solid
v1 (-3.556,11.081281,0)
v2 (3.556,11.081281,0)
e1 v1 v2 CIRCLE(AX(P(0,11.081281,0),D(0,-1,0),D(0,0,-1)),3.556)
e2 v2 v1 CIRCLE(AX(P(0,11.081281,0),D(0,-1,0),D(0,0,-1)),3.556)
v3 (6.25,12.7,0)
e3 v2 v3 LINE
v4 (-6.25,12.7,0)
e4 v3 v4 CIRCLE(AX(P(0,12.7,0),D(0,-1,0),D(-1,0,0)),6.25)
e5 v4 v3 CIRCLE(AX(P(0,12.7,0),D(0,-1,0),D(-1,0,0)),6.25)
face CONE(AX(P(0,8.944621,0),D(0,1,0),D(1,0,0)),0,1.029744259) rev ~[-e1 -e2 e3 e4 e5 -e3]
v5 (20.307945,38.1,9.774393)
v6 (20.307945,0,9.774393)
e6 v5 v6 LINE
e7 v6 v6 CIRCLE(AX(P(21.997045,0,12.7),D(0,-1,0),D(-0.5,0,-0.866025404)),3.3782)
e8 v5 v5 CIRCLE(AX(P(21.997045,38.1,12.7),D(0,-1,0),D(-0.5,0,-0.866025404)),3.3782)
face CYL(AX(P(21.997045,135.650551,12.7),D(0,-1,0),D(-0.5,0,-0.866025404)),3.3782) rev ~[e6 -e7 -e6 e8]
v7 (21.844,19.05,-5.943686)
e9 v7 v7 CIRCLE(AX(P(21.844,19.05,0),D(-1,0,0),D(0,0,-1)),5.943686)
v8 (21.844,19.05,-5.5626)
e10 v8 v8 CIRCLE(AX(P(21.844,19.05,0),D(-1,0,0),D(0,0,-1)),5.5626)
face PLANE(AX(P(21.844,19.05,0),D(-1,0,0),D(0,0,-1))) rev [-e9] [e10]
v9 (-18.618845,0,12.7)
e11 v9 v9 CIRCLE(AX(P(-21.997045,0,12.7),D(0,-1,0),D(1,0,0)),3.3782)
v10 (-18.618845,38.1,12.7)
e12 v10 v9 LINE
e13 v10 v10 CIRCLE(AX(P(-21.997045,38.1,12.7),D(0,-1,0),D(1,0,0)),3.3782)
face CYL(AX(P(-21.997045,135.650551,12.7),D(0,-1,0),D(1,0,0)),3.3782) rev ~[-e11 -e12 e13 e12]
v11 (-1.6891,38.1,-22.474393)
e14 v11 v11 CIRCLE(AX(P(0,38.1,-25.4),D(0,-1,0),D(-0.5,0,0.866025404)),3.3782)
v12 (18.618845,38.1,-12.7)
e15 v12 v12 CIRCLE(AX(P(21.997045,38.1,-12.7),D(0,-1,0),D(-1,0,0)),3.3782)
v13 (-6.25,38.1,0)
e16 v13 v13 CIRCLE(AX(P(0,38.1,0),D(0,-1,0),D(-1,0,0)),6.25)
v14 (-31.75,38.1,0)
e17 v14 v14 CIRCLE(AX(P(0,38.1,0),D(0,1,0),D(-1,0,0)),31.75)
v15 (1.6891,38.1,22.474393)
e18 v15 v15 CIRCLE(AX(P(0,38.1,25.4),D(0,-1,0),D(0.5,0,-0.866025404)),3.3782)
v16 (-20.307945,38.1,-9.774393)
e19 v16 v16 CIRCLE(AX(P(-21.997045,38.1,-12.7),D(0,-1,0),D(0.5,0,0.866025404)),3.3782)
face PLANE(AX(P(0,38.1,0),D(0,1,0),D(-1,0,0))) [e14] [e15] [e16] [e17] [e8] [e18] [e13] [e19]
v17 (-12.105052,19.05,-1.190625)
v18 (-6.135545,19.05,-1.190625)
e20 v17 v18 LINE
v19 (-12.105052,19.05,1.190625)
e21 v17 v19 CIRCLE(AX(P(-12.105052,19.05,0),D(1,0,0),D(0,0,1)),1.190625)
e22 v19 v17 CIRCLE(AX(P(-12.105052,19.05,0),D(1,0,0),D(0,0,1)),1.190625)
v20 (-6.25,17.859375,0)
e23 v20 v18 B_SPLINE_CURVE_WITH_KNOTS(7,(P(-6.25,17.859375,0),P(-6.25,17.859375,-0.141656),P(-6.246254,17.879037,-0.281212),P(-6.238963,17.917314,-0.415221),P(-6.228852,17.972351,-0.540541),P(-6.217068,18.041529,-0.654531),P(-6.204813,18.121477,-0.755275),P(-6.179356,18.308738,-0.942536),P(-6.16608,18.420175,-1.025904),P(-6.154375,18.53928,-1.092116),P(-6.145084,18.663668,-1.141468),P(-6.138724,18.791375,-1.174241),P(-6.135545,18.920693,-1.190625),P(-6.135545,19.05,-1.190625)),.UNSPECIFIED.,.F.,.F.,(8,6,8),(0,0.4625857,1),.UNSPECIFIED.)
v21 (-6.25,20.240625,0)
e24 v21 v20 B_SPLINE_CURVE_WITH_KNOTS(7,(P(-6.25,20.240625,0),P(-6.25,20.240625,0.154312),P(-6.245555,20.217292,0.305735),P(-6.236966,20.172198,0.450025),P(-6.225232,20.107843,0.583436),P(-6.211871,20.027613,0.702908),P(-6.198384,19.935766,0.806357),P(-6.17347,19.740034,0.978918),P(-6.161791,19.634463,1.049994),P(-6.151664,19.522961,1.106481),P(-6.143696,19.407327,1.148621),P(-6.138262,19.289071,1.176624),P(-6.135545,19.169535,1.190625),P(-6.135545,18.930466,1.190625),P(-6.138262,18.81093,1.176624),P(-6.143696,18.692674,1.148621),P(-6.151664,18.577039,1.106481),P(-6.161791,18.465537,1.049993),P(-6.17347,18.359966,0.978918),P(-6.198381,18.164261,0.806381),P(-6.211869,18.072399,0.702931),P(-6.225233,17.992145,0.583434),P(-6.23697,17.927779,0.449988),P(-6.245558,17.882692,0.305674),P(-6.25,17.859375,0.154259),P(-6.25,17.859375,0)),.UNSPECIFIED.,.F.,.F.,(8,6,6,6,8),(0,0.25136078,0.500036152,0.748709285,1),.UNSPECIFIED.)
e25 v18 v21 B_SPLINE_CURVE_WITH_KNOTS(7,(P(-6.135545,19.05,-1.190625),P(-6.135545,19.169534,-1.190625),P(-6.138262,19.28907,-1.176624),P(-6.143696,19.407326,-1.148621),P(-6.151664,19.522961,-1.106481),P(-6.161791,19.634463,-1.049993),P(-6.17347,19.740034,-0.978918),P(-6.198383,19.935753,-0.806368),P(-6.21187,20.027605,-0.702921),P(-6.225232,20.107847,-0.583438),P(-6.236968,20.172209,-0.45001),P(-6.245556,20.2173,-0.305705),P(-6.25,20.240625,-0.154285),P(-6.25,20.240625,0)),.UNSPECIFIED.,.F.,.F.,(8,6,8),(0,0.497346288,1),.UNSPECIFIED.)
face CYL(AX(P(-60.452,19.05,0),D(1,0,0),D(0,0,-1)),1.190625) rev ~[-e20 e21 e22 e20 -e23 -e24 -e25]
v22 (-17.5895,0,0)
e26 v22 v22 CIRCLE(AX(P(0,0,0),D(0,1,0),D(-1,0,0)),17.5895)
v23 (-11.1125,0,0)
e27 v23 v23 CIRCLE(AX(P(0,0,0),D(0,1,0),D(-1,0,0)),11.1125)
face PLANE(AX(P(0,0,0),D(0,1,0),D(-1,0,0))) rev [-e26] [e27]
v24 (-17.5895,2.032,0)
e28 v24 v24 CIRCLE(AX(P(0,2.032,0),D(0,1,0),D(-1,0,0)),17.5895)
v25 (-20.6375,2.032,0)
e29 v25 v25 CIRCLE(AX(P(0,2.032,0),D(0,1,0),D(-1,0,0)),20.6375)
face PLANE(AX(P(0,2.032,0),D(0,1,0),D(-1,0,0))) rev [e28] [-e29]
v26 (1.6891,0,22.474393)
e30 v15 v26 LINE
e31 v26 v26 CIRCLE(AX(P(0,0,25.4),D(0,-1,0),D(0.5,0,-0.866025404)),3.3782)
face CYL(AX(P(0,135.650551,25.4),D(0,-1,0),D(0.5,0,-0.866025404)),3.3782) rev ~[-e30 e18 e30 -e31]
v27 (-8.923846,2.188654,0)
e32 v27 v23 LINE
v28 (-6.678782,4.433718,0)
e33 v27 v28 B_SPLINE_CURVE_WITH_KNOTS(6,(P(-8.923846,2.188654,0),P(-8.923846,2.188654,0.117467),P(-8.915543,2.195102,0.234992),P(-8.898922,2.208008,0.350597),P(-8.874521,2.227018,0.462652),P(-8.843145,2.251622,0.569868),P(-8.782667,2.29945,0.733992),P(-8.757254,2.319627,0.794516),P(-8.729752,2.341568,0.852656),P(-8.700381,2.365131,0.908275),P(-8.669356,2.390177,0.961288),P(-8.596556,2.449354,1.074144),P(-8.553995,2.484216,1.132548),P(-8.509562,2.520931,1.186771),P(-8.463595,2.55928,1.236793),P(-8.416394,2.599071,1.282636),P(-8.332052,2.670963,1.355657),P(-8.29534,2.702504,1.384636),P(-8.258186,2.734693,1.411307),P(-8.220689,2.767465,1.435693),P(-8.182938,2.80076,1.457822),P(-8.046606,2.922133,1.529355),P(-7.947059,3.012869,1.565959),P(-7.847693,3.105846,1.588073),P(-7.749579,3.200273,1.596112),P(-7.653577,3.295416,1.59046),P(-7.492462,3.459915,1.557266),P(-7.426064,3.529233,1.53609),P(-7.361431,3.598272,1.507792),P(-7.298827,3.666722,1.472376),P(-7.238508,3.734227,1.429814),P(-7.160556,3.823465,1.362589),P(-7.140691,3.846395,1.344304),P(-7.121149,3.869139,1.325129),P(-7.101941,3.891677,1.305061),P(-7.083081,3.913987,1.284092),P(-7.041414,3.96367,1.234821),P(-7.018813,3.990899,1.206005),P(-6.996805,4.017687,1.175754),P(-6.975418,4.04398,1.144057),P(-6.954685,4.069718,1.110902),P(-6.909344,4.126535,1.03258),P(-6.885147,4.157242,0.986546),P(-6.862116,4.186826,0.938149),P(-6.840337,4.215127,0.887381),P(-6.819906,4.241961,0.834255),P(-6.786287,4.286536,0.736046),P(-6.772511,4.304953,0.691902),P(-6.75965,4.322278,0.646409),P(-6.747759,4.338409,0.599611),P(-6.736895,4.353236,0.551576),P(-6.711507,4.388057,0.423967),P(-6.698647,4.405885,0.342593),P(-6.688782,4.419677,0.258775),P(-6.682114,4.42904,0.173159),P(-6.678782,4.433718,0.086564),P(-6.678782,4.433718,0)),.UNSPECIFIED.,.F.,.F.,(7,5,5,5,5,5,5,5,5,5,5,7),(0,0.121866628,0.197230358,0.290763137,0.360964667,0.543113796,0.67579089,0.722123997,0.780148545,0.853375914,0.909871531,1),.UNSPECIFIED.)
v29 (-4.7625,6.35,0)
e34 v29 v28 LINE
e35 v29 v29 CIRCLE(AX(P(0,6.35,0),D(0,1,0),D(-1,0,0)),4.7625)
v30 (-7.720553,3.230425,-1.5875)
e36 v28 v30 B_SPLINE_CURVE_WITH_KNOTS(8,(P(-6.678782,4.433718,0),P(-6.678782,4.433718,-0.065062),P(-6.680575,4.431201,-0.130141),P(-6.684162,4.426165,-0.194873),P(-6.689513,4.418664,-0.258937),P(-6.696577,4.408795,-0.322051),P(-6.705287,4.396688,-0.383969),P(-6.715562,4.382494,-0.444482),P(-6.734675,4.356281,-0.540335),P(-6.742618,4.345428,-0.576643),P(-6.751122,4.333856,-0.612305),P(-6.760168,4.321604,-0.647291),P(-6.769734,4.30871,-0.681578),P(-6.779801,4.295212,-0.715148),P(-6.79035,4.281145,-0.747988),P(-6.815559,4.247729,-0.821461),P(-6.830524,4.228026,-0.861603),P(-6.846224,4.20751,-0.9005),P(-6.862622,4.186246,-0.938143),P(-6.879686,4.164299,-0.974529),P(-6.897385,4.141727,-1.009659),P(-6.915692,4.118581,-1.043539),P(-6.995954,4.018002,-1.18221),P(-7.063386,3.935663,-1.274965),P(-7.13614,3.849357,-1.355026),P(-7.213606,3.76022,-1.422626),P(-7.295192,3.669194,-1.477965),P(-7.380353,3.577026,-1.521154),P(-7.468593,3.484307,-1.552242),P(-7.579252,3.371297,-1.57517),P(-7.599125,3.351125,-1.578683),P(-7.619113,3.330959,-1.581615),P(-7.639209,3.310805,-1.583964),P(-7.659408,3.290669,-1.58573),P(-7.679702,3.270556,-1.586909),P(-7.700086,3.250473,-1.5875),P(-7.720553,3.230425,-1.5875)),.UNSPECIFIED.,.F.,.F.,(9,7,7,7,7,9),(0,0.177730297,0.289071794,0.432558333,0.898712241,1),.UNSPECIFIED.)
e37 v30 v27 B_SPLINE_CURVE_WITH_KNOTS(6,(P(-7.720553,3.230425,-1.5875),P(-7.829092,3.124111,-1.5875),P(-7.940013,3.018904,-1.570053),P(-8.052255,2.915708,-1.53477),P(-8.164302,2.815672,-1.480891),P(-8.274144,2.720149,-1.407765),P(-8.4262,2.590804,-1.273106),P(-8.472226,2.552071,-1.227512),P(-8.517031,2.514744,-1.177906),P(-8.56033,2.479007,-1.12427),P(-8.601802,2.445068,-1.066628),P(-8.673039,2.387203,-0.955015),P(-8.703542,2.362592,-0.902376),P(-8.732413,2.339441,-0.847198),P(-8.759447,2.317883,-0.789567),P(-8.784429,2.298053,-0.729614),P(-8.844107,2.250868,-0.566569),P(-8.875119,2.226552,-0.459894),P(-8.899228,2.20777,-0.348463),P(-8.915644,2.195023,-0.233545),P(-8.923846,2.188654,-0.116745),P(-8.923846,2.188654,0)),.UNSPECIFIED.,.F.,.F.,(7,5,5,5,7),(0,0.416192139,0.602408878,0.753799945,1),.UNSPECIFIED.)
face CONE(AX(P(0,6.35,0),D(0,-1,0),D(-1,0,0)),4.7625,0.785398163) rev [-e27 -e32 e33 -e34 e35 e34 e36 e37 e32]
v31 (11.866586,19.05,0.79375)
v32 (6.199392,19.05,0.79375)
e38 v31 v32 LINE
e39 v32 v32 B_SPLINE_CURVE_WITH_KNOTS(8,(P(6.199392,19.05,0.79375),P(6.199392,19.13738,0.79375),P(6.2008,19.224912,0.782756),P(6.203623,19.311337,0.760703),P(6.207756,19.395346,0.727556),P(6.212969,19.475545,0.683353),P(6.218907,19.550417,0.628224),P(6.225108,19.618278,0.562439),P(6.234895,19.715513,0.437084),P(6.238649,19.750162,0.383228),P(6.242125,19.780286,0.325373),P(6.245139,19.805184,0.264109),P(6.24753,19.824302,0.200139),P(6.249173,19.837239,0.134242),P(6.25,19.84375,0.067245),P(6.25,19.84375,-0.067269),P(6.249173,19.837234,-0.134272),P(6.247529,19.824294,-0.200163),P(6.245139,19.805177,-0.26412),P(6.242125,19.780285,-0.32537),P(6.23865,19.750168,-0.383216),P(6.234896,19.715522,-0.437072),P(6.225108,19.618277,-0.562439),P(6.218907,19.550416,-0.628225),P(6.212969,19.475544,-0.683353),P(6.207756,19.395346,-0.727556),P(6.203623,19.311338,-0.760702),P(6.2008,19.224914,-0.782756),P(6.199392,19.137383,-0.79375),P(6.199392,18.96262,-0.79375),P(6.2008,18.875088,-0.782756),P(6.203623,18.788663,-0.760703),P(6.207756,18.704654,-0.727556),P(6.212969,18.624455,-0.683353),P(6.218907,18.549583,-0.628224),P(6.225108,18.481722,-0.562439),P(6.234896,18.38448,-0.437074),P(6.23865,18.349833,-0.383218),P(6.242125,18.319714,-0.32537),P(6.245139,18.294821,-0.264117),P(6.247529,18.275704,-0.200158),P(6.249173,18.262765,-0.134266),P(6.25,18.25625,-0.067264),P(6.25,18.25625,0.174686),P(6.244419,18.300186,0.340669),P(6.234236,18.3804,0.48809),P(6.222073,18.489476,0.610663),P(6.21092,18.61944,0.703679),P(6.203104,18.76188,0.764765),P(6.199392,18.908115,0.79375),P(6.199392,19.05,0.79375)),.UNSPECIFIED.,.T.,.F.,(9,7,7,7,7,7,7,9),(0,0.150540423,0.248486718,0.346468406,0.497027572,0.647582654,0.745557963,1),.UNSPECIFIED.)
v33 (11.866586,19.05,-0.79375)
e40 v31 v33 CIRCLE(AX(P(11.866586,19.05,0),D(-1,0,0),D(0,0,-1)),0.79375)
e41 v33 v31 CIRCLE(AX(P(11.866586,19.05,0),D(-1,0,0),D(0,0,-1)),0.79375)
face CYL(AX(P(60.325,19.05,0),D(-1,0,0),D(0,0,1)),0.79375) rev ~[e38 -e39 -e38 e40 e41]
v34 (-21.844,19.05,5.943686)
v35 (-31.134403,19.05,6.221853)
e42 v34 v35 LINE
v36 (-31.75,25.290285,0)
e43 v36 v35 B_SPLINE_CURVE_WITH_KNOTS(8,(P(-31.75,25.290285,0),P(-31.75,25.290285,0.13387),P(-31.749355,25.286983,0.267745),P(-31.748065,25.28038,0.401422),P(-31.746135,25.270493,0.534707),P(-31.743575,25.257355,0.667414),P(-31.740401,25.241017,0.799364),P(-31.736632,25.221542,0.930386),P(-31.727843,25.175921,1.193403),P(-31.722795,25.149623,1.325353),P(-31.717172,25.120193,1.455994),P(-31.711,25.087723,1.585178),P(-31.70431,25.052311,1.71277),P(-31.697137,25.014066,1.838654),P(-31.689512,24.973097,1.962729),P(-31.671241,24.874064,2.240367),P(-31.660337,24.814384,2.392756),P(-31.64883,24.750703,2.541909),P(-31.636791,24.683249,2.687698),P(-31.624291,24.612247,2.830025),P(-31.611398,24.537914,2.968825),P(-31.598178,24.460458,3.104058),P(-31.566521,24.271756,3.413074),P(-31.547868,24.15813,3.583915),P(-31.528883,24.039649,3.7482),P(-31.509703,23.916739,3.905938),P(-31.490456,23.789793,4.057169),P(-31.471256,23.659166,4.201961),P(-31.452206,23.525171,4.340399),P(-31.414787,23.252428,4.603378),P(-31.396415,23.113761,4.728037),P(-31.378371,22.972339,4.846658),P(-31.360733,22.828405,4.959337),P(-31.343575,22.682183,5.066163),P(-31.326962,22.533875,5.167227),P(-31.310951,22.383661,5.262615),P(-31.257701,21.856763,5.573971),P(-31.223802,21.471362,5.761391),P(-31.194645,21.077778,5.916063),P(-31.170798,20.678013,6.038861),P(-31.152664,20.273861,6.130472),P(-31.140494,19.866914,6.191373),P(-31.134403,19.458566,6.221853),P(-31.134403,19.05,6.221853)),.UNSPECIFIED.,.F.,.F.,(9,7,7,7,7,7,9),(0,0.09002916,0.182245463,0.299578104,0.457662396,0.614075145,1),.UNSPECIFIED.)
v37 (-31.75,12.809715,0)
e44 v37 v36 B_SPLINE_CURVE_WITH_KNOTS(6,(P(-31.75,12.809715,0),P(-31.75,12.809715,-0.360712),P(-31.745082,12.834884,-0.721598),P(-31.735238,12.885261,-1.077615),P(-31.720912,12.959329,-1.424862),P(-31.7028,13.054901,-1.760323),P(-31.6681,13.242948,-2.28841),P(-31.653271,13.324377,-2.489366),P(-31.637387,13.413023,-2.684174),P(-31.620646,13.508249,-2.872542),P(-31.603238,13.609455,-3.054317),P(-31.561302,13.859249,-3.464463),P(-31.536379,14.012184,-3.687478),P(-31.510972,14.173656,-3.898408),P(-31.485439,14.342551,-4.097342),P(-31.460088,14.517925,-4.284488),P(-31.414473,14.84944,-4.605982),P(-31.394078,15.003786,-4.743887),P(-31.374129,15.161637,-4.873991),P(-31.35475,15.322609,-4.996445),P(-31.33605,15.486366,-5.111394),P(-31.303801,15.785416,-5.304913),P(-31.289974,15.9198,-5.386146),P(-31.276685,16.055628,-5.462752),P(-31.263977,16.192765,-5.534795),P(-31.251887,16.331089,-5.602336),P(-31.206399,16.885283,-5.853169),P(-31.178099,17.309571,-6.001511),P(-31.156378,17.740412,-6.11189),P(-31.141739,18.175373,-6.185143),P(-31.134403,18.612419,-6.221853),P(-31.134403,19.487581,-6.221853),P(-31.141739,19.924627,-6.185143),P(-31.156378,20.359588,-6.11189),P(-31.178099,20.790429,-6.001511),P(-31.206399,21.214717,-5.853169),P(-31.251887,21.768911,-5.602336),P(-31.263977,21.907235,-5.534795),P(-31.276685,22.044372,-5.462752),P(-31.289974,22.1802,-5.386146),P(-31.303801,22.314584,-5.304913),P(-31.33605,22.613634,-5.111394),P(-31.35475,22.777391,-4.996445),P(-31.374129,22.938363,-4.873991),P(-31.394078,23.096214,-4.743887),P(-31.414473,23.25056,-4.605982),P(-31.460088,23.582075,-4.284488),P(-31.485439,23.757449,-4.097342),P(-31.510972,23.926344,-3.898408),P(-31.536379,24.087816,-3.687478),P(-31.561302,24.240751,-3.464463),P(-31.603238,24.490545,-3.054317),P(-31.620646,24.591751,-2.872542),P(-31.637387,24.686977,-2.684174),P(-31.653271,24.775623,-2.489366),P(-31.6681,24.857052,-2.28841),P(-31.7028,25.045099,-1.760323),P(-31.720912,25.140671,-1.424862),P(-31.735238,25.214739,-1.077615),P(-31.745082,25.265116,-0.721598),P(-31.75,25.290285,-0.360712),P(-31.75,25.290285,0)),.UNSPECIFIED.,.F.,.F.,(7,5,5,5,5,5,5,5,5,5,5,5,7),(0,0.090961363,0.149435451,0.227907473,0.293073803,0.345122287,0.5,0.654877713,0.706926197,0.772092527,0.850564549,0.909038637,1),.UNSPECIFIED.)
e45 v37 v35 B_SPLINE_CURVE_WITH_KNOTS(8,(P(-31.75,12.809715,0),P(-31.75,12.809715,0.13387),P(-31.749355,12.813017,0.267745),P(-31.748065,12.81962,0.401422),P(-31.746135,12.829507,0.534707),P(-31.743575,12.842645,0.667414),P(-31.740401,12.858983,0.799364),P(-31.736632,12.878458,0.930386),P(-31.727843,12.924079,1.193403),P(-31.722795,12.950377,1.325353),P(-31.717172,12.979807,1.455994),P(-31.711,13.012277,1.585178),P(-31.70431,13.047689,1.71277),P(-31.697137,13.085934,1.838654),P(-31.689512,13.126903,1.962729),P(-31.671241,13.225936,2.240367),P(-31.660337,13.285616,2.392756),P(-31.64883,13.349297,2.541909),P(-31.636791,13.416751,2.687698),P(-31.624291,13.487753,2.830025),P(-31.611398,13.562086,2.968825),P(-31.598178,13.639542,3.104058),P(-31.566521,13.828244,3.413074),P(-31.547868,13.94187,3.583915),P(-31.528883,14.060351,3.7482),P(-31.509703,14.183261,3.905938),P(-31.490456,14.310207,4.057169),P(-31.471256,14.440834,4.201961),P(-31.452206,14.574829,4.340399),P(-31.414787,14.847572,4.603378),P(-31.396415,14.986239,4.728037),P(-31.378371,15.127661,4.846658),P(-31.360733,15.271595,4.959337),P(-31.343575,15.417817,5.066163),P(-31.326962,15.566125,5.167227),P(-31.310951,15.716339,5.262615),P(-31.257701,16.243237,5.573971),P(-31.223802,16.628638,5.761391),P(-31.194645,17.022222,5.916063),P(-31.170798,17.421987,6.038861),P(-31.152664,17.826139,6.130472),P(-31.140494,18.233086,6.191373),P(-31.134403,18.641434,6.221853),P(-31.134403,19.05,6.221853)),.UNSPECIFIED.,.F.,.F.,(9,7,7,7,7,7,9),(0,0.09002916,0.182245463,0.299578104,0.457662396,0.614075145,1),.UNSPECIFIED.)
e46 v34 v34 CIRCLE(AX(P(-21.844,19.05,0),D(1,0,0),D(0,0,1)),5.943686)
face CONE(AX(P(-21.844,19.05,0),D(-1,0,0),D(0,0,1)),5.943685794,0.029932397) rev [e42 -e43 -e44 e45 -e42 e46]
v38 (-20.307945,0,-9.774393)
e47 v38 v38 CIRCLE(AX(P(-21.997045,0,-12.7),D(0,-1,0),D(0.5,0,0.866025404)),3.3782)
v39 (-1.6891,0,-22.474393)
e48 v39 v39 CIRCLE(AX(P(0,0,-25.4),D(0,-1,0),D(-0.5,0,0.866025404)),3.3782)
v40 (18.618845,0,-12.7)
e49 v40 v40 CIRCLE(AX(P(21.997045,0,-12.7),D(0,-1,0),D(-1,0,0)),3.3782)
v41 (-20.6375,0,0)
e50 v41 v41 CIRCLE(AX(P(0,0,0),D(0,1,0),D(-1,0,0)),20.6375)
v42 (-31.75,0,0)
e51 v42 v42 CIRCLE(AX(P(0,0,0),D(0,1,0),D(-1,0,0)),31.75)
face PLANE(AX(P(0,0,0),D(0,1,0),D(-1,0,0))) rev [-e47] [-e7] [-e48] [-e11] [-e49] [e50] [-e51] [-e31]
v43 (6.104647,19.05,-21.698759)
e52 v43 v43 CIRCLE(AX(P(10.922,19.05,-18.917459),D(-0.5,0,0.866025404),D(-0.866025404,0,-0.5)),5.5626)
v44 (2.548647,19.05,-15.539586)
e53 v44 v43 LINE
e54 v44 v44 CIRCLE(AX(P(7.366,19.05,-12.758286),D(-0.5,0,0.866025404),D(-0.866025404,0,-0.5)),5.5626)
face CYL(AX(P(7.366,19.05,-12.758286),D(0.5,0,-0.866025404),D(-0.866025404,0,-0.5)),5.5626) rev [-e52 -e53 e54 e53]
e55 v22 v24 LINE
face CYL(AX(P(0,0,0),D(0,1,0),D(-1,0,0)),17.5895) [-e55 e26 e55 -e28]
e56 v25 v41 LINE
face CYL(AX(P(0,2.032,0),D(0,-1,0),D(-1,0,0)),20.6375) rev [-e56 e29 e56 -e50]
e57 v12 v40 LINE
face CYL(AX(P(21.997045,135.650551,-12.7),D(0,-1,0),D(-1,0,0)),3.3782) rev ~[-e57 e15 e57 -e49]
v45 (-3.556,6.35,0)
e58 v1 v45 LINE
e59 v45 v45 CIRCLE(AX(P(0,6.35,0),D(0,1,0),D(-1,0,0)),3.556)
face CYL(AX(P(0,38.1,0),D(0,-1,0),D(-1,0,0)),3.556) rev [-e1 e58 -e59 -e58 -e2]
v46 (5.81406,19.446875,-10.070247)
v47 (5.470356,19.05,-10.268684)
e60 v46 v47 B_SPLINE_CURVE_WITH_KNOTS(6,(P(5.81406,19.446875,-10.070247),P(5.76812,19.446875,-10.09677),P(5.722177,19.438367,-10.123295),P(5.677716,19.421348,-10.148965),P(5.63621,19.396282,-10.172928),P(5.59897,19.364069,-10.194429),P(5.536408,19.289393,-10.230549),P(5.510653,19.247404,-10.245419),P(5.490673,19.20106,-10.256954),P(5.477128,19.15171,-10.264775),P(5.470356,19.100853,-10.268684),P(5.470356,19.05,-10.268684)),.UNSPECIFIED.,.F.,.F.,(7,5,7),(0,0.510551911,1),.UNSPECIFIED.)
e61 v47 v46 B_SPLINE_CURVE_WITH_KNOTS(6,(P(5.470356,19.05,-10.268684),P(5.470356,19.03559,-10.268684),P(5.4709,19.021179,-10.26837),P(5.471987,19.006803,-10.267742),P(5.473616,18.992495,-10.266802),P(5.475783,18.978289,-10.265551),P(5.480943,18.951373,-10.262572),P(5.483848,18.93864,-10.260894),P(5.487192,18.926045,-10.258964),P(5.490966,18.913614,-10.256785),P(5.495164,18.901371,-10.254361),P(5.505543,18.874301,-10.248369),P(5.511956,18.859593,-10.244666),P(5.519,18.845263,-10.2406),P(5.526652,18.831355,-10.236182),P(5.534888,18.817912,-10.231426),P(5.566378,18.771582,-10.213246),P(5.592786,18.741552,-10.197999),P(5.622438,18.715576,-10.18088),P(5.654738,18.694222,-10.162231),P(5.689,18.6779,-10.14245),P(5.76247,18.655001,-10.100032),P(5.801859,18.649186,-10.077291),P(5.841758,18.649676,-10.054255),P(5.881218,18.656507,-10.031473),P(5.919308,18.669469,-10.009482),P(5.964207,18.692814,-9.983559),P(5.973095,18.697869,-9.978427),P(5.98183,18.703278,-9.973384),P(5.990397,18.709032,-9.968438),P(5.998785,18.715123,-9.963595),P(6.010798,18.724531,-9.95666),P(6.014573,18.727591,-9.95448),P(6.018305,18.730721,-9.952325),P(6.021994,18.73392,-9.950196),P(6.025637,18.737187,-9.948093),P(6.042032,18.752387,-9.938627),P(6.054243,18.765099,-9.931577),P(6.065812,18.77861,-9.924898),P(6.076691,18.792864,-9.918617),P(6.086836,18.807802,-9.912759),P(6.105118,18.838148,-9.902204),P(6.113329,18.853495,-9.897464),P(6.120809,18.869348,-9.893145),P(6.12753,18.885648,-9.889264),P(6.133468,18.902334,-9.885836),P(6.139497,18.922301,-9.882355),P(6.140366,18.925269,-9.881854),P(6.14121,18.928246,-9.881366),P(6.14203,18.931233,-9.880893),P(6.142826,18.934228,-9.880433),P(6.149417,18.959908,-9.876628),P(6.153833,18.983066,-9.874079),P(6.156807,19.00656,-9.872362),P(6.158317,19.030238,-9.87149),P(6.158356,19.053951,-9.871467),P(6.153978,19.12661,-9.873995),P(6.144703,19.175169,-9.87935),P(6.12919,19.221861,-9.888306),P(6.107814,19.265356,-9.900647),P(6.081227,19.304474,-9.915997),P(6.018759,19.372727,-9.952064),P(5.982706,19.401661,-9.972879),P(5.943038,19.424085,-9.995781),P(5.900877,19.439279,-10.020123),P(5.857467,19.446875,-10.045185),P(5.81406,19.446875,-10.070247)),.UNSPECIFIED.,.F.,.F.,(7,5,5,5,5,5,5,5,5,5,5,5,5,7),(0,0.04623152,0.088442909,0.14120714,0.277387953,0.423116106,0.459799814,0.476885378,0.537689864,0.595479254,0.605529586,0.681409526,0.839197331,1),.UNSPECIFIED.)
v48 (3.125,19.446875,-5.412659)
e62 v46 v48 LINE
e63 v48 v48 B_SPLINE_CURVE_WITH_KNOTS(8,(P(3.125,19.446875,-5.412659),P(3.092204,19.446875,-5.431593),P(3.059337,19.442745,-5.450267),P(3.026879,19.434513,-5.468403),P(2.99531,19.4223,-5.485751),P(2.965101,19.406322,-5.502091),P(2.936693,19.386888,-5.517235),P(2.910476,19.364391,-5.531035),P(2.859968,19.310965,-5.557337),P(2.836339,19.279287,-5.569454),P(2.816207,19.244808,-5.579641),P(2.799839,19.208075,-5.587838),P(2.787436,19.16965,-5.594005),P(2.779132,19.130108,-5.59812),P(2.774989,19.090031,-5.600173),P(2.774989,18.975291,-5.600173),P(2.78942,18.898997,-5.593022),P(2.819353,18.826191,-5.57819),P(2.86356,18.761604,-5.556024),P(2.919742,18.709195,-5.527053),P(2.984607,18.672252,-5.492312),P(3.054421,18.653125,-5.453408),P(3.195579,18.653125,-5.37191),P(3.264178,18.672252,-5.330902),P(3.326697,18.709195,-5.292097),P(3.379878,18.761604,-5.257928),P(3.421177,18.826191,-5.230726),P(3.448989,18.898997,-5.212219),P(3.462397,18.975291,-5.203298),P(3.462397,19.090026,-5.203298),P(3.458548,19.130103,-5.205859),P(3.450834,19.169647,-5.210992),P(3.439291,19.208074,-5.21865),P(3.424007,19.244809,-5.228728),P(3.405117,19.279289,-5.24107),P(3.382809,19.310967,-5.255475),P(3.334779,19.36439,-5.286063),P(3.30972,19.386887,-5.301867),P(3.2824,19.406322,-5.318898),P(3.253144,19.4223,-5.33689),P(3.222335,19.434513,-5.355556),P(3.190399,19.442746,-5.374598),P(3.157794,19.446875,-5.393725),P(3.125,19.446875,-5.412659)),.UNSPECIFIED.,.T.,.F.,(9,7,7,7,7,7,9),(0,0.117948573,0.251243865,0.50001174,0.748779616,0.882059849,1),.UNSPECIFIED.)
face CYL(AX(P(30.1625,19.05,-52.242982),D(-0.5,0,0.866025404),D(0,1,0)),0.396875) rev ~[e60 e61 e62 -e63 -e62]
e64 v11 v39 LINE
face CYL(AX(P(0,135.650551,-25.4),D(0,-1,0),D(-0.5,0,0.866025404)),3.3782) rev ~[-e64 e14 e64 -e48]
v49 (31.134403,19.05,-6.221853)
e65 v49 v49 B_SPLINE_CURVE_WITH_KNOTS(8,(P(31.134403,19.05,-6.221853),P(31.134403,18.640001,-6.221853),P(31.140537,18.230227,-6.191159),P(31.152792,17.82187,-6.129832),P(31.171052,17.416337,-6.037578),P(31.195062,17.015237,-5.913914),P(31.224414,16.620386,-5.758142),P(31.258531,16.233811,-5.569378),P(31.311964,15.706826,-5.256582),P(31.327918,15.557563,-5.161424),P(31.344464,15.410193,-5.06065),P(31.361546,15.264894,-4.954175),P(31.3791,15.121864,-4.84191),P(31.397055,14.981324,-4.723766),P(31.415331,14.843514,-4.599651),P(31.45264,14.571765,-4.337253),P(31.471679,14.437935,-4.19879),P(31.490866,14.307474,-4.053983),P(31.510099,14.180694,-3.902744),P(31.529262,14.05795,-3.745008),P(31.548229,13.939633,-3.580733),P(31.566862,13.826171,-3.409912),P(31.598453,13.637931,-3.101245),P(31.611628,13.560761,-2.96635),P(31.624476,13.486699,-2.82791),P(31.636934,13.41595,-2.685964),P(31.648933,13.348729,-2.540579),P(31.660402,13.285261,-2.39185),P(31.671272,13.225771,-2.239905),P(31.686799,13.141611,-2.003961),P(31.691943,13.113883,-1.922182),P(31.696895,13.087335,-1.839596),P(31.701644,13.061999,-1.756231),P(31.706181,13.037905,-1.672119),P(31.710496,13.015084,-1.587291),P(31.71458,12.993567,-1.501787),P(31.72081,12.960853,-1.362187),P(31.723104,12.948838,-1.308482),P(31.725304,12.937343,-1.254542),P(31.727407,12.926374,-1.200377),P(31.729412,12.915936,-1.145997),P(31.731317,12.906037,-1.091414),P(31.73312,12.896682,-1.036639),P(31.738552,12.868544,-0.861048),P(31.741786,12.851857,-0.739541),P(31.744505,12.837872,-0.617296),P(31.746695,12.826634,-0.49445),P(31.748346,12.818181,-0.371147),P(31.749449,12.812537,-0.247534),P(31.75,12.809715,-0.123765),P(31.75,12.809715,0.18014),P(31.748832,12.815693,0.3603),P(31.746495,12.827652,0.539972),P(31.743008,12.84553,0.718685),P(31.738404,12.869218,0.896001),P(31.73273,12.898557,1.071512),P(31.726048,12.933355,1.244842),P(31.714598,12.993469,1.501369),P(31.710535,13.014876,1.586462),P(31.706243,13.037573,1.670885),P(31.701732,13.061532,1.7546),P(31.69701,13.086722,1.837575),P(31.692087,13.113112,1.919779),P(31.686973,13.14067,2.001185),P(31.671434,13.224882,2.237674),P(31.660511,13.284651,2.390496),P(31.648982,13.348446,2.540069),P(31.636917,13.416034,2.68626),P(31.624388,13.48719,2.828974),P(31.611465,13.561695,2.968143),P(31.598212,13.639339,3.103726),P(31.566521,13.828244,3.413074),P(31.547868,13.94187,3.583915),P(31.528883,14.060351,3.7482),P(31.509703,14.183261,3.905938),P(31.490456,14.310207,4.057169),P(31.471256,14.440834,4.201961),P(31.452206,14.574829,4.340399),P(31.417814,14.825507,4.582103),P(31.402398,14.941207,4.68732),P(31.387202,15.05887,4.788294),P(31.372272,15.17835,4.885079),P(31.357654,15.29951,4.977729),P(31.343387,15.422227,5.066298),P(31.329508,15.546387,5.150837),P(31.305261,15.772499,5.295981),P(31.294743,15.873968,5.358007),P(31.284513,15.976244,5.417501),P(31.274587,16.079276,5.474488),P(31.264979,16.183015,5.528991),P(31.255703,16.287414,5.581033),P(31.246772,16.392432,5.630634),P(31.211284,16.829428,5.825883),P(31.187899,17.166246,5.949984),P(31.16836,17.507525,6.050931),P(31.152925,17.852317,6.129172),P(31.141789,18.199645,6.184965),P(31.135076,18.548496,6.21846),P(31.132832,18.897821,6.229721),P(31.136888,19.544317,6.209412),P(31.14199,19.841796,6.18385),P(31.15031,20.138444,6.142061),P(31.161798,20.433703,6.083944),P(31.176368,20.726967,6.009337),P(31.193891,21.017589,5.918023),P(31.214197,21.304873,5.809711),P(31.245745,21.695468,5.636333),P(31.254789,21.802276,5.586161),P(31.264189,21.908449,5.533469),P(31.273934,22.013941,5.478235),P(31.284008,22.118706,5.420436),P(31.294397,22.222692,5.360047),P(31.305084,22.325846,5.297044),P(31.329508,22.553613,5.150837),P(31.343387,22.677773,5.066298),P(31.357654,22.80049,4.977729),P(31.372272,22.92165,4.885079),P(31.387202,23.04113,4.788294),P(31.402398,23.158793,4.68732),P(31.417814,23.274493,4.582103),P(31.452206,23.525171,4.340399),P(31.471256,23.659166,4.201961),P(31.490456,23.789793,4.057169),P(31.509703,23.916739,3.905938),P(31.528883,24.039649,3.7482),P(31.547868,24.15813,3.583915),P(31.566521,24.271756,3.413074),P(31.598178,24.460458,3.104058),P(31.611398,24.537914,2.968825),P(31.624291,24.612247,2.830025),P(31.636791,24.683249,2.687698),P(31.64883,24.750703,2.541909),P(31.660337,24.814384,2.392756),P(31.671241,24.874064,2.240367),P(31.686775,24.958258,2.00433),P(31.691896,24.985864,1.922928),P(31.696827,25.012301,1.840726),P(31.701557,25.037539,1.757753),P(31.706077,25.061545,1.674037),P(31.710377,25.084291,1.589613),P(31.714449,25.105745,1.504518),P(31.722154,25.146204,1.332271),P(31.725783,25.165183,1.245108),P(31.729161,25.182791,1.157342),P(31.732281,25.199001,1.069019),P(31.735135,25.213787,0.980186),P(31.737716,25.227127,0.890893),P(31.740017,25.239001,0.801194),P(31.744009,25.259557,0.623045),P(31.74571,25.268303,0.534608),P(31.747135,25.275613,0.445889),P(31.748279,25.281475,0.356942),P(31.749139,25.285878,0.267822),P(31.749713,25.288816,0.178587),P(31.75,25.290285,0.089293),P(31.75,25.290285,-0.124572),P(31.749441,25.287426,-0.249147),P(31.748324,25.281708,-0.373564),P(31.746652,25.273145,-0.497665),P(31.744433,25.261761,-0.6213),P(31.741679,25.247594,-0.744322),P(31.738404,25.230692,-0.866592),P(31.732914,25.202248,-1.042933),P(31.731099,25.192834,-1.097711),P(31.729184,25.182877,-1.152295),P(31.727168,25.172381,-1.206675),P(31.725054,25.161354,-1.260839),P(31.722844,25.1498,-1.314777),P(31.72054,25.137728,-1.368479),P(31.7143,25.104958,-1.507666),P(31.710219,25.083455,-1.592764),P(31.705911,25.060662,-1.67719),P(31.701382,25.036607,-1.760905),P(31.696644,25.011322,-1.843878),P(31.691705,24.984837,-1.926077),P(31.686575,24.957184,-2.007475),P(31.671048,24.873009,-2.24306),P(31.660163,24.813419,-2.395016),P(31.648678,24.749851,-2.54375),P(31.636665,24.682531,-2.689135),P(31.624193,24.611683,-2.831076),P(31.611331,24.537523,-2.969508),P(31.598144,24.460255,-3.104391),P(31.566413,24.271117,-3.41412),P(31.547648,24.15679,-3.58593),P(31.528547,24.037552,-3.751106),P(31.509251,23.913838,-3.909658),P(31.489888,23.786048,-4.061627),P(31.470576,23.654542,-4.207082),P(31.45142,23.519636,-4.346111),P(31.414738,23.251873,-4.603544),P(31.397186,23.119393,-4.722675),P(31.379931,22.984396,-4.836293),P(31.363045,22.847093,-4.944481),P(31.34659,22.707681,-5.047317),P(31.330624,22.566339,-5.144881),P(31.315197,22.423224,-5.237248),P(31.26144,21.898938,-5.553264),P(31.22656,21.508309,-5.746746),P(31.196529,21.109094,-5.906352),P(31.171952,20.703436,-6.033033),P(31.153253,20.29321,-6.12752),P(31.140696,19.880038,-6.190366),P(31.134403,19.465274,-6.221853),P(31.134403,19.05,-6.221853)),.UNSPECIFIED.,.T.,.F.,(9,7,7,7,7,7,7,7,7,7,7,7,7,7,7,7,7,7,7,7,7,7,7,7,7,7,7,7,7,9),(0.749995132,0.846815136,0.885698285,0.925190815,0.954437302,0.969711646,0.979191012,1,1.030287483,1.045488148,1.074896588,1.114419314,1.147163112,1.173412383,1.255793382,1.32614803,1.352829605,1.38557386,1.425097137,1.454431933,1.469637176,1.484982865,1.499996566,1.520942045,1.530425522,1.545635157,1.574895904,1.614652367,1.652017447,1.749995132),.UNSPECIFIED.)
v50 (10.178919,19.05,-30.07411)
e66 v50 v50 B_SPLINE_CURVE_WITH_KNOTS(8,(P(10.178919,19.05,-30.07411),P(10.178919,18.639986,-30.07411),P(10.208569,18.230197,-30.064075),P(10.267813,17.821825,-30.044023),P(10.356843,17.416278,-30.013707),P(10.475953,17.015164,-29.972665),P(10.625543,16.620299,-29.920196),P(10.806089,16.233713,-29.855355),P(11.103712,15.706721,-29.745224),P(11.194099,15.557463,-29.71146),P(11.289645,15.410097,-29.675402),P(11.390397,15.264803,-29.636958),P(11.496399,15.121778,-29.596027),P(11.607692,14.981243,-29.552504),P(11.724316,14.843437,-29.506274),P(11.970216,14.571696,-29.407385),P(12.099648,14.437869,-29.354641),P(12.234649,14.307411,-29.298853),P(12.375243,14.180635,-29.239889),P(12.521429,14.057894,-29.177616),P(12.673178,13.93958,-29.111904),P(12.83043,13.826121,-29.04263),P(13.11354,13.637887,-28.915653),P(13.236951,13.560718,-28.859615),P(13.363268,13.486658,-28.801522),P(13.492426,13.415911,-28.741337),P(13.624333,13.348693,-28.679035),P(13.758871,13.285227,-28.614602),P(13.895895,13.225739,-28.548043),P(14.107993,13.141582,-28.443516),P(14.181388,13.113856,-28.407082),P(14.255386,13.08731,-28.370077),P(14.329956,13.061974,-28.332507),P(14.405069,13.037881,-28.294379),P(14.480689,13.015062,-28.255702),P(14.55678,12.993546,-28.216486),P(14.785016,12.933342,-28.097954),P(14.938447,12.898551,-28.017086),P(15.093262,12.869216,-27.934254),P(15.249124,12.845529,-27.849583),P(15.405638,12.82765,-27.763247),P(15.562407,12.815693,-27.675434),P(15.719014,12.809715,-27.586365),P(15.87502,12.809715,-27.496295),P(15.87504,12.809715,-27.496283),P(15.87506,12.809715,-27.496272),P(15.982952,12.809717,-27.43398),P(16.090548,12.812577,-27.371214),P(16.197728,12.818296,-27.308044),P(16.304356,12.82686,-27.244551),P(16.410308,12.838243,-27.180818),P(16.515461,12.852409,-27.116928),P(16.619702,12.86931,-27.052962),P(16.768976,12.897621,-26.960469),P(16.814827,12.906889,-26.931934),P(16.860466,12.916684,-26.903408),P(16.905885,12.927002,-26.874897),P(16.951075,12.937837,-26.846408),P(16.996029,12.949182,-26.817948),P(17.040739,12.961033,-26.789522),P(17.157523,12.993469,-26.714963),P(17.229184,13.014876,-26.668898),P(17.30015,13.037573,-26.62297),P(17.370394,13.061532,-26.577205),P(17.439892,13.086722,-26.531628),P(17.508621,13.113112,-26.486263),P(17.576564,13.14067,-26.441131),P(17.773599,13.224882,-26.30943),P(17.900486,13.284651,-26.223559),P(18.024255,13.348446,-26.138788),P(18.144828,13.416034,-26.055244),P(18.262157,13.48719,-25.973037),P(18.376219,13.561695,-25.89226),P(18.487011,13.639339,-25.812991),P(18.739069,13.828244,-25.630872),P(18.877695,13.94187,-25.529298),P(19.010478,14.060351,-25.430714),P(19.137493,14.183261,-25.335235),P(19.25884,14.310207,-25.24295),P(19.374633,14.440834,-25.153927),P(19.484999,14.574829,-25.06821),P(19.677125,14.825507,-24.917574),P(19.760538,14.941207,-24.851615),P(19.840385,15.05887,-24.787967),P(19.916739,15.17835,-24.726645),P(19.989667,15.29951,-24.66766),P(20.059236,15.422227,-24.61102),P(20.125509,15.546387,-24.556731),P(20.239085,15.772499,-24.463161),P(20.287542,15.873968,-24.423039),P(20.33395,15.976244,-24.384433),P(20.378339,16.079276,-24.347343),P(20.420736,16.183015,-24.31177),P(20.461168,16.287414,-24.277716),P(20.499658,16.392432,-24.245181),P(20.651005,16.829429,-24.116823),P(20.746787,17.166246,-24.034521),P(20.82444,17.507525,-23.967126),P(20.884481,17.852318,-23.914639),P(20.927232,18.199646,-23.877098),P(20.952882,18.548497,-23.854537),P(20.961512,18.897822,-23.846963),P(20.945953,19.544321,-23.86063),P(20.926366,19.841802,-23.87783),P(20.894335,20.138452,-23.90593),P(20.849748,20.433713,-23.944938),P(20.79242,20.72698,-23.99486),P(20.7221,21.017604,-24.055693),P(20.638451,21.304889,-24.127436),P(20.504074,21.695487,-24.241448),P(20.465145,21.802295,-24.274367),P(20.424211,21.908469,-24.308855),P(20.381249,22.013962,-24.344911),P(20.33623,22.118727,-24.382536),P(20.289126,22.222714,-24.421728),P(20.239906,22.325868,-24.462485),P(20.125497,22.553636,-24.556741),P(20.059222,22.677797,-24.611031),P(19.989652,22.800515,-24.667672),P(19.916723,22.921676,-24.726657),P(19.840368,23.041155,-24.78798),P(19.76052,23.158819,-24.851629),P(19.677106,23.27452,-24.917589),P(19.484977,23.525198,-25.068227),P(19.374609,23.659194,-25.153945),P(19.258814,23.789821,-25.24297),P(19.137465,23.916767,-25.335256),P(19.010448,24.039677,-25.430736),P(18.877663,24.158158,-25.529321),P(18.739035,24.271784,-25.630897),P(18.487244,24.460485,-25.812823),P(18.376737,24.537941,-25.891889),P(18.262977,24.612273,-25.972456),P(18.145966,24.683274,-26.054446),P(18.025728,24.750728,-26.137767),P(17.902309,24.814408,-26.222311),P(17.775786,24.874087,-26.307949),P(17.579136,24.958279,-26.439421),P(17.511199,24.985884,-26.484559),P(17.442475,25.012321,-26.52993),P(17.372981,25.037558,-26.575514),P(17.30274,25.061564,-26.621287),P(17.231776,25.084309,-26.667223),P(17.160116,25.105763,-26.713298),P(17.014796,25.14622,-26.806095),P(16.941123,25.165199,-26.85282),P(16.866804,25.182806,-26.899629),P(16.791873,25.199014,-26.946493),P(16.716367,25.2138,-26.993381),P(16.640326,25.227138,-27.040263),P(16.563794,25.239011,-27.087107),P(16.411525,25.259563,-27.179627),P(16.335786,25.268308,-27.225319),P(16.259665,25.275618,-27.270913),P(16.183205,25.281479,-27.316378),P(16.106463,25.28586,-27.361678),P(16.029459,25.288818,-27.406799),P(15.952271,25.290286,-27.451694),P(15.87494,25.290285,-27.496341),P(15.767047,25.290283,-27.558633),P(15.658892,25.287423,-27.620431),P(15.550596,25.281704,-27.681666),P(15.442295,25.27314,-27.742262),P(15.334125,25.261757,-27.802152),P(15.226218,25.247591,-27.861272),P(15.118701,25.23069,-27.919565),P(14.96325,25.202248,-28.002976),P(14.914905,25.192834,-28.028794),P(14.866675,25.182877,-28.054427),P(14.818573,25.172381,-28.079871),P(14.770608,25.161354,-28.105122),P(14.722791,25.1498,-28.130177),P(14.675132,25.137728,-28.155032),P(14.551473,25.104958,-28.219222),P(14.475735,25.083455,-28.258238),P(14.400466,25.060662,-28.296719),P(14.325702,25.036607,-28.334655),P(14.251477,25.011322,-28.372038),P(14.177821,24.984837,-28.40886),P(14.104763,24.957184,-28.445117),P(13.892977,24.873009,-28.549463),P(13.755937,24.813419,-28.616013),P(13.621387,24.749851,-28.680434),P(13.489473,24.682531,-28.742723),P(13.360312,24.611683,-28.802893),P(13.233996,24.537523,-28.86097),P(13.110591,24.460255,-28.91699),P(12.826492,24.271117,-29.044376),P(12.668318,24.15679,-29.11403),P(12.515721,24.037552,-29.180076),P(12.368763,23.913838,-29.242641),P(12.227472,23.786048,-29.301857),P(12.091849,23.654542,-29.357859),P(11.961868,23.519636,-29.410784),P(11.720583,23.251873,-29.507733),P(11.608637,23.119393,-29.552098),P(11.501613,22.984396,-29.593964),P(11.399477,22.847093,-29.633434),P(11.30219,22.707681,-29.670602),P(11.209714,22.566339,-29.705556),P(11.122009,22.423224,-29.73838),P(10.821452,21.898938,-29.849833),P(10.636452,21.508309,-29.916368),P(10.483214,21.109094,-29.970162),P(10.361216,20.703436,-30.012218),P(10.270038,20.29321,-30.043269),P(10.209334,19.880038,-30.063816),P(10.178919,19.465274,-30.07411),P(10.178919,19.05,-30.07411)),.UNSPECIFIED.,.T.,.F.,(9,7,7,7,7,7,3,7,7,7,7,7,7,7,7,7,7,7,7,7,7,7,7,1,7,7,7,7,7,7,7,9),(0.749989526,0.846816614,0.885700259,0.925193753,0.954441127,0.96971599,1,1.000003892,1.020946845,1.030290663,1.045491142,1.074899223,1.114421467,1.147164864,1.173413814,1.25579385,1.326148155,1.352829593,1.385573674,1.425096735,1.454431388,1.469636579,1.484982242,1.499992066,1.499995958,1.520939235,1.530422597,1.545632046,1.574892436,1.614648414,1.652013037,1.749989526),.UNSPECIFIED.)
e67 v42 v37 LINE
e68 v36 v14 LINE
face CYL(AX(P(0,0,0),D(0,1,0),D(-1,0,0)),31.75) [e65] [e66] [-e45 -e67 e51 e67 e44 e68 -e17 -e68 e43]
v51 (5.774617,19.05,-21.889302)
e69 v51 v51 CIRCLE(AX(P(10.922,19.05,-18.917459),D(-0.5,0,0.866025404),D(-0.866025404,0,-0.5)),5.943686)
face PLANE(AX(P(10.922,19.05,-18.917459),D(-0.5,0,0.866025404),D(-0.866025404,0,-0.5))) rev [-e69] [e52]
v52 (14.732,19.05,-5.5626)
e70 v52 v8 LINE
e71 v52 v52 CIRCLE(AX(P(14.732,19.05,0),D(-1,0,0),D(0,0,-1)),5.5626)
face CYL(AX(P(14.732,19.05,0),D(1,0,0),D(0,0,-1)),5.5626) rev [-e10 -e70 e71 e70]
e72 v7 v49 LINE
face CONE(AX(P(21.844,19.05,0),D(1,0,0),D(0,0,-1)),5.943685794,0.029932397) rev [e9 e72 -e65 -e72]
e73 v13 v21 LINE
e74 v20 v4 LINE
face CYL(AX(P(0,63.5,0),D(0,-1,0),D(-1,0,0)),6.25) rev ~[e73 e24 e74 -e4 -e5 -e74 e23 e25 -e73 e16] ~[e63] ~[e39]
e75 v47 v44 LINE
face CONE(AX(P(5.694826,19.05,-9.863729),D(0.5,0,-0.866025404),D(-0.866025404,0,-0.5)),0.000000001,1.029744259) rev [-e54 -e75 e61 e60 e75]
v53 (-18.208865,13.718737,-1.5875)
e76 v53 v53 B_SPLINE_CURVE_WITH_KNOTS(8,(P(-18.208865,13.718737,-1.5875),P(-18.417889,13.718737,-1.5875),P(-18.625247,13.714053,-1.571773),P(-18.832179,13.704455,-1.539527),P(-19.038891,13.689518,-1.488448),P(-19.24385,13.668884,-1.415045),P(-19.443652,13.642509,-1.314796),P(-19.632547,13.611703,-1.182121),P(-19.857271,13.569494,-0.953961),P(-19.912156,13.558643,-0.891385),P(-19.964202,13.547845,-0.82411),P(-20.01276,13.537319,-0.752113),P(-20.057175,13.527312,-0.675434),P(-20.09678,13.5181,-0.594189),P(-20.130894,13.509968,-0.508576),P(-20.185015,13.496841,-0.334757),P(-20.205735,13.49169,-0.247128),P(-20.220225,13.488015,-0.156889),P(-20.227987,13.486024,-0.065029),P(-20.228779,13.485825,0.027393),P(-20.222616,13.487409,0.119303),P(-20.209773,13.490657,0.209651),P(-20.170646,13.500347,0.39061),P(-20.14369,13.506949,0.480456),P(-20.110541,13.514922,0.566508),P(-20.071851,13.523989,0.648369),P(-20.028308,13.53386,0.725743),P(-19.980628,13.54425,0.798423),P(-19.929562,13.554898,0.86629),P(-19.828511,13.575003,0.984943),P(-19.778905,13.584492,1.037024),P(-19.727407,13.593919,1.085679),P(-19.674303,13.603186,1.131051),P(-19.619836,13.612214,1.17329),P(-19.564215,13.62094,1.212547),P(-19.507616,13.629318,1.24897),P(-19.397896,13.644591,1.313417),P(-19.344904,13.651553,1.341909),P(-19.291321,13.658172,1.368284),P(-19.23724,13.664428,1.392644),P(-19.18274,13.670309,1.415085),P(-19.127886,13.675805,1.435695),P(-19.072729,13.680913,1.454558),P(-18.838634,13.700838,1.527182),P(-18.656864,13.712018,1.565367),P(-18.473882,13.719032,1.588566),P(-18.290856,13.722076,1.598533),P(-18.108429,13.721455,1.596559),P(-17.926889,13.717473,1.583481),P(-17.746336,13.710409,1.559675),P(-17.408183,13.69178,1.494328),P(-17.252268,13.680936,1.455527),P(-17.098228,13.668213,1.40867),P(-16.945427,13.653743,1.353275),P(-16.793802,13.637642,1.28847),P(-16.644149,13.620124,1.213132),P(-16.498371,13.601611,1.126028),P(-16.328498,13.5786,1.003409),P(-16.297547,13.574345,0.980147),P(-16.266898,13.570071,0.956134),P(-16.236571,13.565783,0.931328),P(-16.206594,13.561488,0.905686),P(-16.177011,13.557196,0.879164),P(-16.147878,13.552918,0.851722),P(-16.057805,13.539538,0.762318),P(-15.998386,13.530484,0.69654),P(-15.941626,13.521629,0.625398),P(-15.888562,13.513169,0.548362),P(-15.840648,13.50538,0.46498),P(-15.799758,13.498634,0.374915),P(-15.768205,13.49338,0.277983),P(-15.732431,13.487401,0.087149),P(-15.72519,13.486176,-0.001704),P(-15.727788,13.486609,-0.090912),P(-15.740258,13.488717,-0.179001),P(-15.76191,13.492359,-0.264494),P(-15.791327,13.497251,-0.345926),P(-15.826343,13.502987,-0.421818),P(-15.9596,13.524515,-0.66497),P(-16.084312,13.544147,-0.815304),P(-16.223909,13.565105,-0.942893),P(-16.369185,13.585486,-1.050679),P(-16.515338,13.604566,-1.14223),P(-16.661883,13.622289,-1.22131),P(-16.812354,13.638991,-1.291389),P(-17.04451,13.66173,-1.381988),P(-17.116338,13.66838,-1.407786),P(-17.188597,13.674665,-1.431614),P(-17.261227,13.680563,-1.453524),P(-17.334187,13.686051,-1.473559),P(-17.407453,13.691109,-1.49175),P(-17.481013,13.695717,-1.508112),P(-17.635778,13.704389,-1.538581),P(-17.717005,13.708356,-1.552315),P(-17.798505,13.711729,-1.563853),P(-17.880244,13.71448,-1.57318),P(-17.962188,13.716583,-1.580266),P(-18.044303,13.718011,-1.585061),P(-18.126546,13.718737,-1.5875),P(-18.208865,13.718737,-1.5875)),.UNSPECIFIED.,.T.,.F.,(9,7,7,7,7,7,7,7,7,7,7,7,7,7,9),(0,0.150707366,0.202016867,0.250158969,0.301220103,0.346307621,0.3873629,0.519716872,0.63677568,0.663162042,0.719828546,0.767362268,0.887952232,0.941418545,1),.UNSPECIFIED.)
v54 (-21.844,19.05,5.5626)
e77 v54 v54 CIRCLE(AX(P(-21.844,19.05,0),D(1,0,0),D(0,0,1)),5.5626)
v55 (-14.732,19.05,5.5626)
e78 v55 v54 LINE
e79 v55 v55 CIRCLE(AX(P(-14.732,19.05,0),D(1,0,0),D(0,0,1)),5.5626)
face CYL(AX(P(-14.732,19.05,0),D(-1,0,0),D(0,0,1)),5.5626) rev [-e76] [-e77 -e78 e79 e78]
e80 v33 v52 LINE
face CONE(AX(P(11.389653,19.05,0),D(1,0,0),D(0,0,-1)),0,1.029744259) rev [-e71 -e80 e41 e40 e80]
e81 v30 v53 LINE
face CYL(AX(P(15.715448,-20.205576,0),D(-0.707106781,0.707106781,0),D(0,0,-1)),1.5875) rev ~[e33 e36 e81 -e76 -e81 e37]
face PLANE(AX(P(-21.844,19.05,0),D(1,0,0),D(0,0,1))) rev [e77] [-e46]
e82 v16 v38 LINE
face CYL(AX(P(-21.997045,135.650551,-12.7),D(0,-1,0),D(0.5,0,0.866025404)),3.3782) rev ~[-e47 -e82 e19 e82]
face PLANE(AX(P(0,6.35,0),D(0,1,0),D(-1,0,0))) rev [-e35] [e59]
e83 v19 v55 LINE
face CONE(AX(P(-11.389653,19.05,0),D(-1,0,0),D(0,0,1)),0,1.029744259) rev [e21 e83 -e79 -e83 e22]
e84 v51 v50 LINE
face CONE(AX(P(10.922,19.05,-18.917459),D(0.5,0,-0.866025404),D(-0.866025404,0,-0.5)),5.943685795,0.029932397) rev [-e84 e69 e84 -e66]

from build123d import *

# Parameters (mm, degrees)
M14X1_5_TAPPED_HOLE1_D              = 12.5
M14X1_5_TAPPED_HOLE1_DEPTH          = 25.4
M14X1_5_TAPPED_HOLE1_TIP            = 3.755378869
F_1_16_0_0625_DIAMETER_HOLE1_D      = 1.5875
F_1_16_0_0625_DIAMETER_HOLE1_DEPTH  = 28.575
F_1_16_0_0625_DIAMETER_HOLE1_TIP    = 0.476933116
F_3_32_0_09375_DIAMETER_HOLE1_D     = 2.38125
F_3_32_0_09375_DIAMETER_HOLE1_DEPTH = 28.702
F_3_32_0_09375_DIAMETER_HOLE1_TIP   = 0.715399675
F_1_4_CLEARANCE_HOLE1_D             = 6.7564
CIRPATTERN1_COUNT                   = 6
F_1_32_0_03125_DIAMETER_HOLE1_D     = 0.79375
F_1_32_0_03125_DIAMETER_HOLE1_DEPTH = 28.575
F_1_32_0_03125_DIAMETER_HOLE1_TIP   = 0.238466558
F_1_8_0_125_DIAMETER_HOLE1_D        = 3.175
F_1_8_0_125_DIAMETER_HOLE1_DEPTH    = 25.4
F_1_8_0_125_DIAMETER_HOLE1_TIP      = 0.953866233


with BuildPart() as part:
    # Sketch1 → Revolve1 (revolve)
    with BuildSketch(Plane.XY):
        Polygon((-20.6375, 0), (-31.75, 0), (-31.75, 38.1), (-3.556, 38.1), (-3.556, 6.35), (-4.7625, 6.35), (-11.1125, 0), (-17.5895, 0), (-17.5895, 2.032), (-20.6375, 2.032), align=None)
    revolve(axis=Axis((0, 0, 0), (0, 1, 0)))

    # M14x1.5 Tapped Hole1
    with Locations(Plane(origin=(0, 38.1, 0), x_dir=(1, 0, 0), z_dir=(0, 1, 0))):
        with Locations((0, 0)):
            Hole(M14X1_5_TAPPED_HOLE1_D / 2, depth=M14X1_5_TAPPED_HOLE1_DEPTH)
            with Locations((0, 0, -(M14X1_5_TAPPED_HOLE1_DEPTH + M14X1_5_TAPPED_HOLE1_TIP / 2))):  # 118° drill point
                Cone(0, M14X1_5_TAPPED_HOLE1_D / 2, M14X1_5_TAPPED_HOLE1_TIP, mode=Mode.SUBTRACT)

    # Sketch6 → 1/4 NPT Tapped Hole1 (revolve, cut)
    with BuildSketch(Plane(origin=(31.75, 19.05, 0), x_dir=(0, 0, -1), z_dir=(0, 1, 0))):
        Polygon((0, 0), (0, 20.360347279), (5.5626, 17.018), (5.5626, 9.906), (5.943685794, 9.906), (6.2402847, 0), align=None)
    revolve(axis=Axis((38.1, 19.05, 0), (-1, 0, 0)), mode=Mode.SUBTRACT)

    # Sketch8 → 1/4 NPT Tapped Hole2 (revolve, cut)
    with BuildSketch(Plane(origin=(-31.75, 19.05, 0), x_dir=(0, 0, 1), z_dir=(0, 1, 0))):
        Polygon((0, 0), (0, 20.360347279), (5.5626, 17.018), (5.5626, 9.906), (5.943685794, 9.906), (6.2402847, 0), align=None)
    revolve(axis=Axis((-38.1, 19.05, 0), (1, 0, 0)), mode=Mode.SUBTRACT)

    # 1/16 (0.0625) Diameter Hole1
    with Locations(Plane(origin=(31.75, 0, 0), x_dir=(0, 0, -1), z_dir=(1, 0, 0))):
        with Locations((0, 19.05)):
            Hole(F_1_16_0_0625_DIAMETER_HOLE1_D / 2, depth=F_1_16_0_0625_DIAMETER_HOLE1_DEPTH)
            with Locations((0, 0, -(F_1_16_0_0625_DIAMETER_HOLE1_DEPTH + F_1_16_0_0625_DIAMETER_HOLE1_TIP / 2))):  # 118° drill point
                Cone(0, F_1_16_0_0625_DIAMETER_HOLE1_D / 2, F_1_16_0_0625_DIAMETER_HOLE1_TIP, mode=Mode.SUBTRACT)

    # 3/32 (0.09375) Diameter Hole1
    with Locations(Plane.ZY.offset(31.75)):
        with Locations((0, 19.05)):
            Hole(F_3_32_0_09375_DIAMETER_HOLE1_D / 2, depth=F_3_32_0_09375_DIAMETER_HOLE1_DEPTH)
            with Locations((0, 0, -(F_3_32_0_09375_DIAMETER_HOLE1_DEPTH + F_3_32_0_09375_DIAMETER_HOLE1_TIP / 2))):  # 118° drill point
                Cone(0, F_3_32_0_09375_DIAMETER_HOLE1_D / 2, F_3_32_0_09375_DIAMETER_HOLE1_TIP, mode=Mode.SUBTRACT)

    # 1/4 Clearance Hole1 (through all)
    with Locations(Plane(origin=(0, 38.1, 0), x_dir=(1, 0, 0), z_dir=(0, 1, 0))):
        with Locations((21.997045256, 12.7)):
            f_1_4_clearance_hole1 = Hole(F_1_4_CLEARANCE_HOLE1_D / 2)

    # CirPattern1: 1/4 Clearance Hole1 ×6 about axis
    cirpattern1_axis = Axis((0, 0, 0), (0, -1, 0))
    for i in range(1, CIRPATTERN1_COUNT):
        add(f_1_4_clearance_hole1.rotate(cirpattern1_axis, i * 360 / CIRPATTERN1_COUNT), mode=Mode.SUBTRACT)

    # Sketch18 → 1/4 NPT Tapped Hole3 (revolve, cut)
    with BuildSketch(Plane(origin=(15.875, 19.05, -27.49630657), x_dir=(-0.8660254037844416, 0, -0.49999999999999495), z_dir=(0, 1, 0))):
        Polygon((0, 0), (0, 20.360347279), (5.5626, 17.018), (5.5626, 9.906), (5.943685794, 9.906), (6.2402847, 0), align=None)
    revolve(axis=Axis((19.05, 19.05, -32.995567884), (-0.49999999999999495, 0, 0.8660254037844417)), mode=Mode.SUBTRACT)

    # 1/32 (0.03125) Diameter Hole1
    with Locations(Plane(origin=(15.875, 0, -27.49630657), x_dir=(0, -1, 0), z_dir=(0.49999999999999495, 0, -0.8660254037844416))):
        with Locations((-19.05, 0)):
            Hole(F_1_32_0_03125_DIAMETER_HOLE1_D / 2, depth=F_1_32_0_03125_DIAMETER_HOLE1_DEPTH)
            with Locations((0, 0, -(F_1_32_0_03125_DIAMETER_HOLE1_DEPTH + F_1_32_0_03125_DIAMETER_HOLE1_TIP / 2))):  # 118° drill point
                Cone(0, F_1_32_0_03125_DIAMETER_HOLE1_D / 2, F_1_32_0_03125_DIAMETER_HOLE1_TIP, mode=Mode.SUBTRACT)

    # 1/8 (0.125) Diameter Hole1
    with Locations(Plane(origin=(0, 0, 0), x_dir=(0, 0, 1), z_dir=(0.7071067811865512, -0.7071067811865438, 0))):
        with Locations((0, 3.175)):
            Hole(F_1_8_0_125_DIAMETER_HOLE1_D / 2, depth=F_1_8_0_125_DIAMETER_HOLE1_DEPTH)
            with Locations((0, 0, -(F_1_8_0_125_DIAMETER_HOLE1_DEPTH + F_1_8_0_125_DIAMETER_HOLE1_TIP / 2))):  # 118° drill point
                Cone(0, F_1_8_0_125_DIAMETER_HOLE1_D / 2, F_1_8_0_125_DIAMETER_HOLE1_TIP, mode=Mode.SUBTRACT)


solid = part.part
